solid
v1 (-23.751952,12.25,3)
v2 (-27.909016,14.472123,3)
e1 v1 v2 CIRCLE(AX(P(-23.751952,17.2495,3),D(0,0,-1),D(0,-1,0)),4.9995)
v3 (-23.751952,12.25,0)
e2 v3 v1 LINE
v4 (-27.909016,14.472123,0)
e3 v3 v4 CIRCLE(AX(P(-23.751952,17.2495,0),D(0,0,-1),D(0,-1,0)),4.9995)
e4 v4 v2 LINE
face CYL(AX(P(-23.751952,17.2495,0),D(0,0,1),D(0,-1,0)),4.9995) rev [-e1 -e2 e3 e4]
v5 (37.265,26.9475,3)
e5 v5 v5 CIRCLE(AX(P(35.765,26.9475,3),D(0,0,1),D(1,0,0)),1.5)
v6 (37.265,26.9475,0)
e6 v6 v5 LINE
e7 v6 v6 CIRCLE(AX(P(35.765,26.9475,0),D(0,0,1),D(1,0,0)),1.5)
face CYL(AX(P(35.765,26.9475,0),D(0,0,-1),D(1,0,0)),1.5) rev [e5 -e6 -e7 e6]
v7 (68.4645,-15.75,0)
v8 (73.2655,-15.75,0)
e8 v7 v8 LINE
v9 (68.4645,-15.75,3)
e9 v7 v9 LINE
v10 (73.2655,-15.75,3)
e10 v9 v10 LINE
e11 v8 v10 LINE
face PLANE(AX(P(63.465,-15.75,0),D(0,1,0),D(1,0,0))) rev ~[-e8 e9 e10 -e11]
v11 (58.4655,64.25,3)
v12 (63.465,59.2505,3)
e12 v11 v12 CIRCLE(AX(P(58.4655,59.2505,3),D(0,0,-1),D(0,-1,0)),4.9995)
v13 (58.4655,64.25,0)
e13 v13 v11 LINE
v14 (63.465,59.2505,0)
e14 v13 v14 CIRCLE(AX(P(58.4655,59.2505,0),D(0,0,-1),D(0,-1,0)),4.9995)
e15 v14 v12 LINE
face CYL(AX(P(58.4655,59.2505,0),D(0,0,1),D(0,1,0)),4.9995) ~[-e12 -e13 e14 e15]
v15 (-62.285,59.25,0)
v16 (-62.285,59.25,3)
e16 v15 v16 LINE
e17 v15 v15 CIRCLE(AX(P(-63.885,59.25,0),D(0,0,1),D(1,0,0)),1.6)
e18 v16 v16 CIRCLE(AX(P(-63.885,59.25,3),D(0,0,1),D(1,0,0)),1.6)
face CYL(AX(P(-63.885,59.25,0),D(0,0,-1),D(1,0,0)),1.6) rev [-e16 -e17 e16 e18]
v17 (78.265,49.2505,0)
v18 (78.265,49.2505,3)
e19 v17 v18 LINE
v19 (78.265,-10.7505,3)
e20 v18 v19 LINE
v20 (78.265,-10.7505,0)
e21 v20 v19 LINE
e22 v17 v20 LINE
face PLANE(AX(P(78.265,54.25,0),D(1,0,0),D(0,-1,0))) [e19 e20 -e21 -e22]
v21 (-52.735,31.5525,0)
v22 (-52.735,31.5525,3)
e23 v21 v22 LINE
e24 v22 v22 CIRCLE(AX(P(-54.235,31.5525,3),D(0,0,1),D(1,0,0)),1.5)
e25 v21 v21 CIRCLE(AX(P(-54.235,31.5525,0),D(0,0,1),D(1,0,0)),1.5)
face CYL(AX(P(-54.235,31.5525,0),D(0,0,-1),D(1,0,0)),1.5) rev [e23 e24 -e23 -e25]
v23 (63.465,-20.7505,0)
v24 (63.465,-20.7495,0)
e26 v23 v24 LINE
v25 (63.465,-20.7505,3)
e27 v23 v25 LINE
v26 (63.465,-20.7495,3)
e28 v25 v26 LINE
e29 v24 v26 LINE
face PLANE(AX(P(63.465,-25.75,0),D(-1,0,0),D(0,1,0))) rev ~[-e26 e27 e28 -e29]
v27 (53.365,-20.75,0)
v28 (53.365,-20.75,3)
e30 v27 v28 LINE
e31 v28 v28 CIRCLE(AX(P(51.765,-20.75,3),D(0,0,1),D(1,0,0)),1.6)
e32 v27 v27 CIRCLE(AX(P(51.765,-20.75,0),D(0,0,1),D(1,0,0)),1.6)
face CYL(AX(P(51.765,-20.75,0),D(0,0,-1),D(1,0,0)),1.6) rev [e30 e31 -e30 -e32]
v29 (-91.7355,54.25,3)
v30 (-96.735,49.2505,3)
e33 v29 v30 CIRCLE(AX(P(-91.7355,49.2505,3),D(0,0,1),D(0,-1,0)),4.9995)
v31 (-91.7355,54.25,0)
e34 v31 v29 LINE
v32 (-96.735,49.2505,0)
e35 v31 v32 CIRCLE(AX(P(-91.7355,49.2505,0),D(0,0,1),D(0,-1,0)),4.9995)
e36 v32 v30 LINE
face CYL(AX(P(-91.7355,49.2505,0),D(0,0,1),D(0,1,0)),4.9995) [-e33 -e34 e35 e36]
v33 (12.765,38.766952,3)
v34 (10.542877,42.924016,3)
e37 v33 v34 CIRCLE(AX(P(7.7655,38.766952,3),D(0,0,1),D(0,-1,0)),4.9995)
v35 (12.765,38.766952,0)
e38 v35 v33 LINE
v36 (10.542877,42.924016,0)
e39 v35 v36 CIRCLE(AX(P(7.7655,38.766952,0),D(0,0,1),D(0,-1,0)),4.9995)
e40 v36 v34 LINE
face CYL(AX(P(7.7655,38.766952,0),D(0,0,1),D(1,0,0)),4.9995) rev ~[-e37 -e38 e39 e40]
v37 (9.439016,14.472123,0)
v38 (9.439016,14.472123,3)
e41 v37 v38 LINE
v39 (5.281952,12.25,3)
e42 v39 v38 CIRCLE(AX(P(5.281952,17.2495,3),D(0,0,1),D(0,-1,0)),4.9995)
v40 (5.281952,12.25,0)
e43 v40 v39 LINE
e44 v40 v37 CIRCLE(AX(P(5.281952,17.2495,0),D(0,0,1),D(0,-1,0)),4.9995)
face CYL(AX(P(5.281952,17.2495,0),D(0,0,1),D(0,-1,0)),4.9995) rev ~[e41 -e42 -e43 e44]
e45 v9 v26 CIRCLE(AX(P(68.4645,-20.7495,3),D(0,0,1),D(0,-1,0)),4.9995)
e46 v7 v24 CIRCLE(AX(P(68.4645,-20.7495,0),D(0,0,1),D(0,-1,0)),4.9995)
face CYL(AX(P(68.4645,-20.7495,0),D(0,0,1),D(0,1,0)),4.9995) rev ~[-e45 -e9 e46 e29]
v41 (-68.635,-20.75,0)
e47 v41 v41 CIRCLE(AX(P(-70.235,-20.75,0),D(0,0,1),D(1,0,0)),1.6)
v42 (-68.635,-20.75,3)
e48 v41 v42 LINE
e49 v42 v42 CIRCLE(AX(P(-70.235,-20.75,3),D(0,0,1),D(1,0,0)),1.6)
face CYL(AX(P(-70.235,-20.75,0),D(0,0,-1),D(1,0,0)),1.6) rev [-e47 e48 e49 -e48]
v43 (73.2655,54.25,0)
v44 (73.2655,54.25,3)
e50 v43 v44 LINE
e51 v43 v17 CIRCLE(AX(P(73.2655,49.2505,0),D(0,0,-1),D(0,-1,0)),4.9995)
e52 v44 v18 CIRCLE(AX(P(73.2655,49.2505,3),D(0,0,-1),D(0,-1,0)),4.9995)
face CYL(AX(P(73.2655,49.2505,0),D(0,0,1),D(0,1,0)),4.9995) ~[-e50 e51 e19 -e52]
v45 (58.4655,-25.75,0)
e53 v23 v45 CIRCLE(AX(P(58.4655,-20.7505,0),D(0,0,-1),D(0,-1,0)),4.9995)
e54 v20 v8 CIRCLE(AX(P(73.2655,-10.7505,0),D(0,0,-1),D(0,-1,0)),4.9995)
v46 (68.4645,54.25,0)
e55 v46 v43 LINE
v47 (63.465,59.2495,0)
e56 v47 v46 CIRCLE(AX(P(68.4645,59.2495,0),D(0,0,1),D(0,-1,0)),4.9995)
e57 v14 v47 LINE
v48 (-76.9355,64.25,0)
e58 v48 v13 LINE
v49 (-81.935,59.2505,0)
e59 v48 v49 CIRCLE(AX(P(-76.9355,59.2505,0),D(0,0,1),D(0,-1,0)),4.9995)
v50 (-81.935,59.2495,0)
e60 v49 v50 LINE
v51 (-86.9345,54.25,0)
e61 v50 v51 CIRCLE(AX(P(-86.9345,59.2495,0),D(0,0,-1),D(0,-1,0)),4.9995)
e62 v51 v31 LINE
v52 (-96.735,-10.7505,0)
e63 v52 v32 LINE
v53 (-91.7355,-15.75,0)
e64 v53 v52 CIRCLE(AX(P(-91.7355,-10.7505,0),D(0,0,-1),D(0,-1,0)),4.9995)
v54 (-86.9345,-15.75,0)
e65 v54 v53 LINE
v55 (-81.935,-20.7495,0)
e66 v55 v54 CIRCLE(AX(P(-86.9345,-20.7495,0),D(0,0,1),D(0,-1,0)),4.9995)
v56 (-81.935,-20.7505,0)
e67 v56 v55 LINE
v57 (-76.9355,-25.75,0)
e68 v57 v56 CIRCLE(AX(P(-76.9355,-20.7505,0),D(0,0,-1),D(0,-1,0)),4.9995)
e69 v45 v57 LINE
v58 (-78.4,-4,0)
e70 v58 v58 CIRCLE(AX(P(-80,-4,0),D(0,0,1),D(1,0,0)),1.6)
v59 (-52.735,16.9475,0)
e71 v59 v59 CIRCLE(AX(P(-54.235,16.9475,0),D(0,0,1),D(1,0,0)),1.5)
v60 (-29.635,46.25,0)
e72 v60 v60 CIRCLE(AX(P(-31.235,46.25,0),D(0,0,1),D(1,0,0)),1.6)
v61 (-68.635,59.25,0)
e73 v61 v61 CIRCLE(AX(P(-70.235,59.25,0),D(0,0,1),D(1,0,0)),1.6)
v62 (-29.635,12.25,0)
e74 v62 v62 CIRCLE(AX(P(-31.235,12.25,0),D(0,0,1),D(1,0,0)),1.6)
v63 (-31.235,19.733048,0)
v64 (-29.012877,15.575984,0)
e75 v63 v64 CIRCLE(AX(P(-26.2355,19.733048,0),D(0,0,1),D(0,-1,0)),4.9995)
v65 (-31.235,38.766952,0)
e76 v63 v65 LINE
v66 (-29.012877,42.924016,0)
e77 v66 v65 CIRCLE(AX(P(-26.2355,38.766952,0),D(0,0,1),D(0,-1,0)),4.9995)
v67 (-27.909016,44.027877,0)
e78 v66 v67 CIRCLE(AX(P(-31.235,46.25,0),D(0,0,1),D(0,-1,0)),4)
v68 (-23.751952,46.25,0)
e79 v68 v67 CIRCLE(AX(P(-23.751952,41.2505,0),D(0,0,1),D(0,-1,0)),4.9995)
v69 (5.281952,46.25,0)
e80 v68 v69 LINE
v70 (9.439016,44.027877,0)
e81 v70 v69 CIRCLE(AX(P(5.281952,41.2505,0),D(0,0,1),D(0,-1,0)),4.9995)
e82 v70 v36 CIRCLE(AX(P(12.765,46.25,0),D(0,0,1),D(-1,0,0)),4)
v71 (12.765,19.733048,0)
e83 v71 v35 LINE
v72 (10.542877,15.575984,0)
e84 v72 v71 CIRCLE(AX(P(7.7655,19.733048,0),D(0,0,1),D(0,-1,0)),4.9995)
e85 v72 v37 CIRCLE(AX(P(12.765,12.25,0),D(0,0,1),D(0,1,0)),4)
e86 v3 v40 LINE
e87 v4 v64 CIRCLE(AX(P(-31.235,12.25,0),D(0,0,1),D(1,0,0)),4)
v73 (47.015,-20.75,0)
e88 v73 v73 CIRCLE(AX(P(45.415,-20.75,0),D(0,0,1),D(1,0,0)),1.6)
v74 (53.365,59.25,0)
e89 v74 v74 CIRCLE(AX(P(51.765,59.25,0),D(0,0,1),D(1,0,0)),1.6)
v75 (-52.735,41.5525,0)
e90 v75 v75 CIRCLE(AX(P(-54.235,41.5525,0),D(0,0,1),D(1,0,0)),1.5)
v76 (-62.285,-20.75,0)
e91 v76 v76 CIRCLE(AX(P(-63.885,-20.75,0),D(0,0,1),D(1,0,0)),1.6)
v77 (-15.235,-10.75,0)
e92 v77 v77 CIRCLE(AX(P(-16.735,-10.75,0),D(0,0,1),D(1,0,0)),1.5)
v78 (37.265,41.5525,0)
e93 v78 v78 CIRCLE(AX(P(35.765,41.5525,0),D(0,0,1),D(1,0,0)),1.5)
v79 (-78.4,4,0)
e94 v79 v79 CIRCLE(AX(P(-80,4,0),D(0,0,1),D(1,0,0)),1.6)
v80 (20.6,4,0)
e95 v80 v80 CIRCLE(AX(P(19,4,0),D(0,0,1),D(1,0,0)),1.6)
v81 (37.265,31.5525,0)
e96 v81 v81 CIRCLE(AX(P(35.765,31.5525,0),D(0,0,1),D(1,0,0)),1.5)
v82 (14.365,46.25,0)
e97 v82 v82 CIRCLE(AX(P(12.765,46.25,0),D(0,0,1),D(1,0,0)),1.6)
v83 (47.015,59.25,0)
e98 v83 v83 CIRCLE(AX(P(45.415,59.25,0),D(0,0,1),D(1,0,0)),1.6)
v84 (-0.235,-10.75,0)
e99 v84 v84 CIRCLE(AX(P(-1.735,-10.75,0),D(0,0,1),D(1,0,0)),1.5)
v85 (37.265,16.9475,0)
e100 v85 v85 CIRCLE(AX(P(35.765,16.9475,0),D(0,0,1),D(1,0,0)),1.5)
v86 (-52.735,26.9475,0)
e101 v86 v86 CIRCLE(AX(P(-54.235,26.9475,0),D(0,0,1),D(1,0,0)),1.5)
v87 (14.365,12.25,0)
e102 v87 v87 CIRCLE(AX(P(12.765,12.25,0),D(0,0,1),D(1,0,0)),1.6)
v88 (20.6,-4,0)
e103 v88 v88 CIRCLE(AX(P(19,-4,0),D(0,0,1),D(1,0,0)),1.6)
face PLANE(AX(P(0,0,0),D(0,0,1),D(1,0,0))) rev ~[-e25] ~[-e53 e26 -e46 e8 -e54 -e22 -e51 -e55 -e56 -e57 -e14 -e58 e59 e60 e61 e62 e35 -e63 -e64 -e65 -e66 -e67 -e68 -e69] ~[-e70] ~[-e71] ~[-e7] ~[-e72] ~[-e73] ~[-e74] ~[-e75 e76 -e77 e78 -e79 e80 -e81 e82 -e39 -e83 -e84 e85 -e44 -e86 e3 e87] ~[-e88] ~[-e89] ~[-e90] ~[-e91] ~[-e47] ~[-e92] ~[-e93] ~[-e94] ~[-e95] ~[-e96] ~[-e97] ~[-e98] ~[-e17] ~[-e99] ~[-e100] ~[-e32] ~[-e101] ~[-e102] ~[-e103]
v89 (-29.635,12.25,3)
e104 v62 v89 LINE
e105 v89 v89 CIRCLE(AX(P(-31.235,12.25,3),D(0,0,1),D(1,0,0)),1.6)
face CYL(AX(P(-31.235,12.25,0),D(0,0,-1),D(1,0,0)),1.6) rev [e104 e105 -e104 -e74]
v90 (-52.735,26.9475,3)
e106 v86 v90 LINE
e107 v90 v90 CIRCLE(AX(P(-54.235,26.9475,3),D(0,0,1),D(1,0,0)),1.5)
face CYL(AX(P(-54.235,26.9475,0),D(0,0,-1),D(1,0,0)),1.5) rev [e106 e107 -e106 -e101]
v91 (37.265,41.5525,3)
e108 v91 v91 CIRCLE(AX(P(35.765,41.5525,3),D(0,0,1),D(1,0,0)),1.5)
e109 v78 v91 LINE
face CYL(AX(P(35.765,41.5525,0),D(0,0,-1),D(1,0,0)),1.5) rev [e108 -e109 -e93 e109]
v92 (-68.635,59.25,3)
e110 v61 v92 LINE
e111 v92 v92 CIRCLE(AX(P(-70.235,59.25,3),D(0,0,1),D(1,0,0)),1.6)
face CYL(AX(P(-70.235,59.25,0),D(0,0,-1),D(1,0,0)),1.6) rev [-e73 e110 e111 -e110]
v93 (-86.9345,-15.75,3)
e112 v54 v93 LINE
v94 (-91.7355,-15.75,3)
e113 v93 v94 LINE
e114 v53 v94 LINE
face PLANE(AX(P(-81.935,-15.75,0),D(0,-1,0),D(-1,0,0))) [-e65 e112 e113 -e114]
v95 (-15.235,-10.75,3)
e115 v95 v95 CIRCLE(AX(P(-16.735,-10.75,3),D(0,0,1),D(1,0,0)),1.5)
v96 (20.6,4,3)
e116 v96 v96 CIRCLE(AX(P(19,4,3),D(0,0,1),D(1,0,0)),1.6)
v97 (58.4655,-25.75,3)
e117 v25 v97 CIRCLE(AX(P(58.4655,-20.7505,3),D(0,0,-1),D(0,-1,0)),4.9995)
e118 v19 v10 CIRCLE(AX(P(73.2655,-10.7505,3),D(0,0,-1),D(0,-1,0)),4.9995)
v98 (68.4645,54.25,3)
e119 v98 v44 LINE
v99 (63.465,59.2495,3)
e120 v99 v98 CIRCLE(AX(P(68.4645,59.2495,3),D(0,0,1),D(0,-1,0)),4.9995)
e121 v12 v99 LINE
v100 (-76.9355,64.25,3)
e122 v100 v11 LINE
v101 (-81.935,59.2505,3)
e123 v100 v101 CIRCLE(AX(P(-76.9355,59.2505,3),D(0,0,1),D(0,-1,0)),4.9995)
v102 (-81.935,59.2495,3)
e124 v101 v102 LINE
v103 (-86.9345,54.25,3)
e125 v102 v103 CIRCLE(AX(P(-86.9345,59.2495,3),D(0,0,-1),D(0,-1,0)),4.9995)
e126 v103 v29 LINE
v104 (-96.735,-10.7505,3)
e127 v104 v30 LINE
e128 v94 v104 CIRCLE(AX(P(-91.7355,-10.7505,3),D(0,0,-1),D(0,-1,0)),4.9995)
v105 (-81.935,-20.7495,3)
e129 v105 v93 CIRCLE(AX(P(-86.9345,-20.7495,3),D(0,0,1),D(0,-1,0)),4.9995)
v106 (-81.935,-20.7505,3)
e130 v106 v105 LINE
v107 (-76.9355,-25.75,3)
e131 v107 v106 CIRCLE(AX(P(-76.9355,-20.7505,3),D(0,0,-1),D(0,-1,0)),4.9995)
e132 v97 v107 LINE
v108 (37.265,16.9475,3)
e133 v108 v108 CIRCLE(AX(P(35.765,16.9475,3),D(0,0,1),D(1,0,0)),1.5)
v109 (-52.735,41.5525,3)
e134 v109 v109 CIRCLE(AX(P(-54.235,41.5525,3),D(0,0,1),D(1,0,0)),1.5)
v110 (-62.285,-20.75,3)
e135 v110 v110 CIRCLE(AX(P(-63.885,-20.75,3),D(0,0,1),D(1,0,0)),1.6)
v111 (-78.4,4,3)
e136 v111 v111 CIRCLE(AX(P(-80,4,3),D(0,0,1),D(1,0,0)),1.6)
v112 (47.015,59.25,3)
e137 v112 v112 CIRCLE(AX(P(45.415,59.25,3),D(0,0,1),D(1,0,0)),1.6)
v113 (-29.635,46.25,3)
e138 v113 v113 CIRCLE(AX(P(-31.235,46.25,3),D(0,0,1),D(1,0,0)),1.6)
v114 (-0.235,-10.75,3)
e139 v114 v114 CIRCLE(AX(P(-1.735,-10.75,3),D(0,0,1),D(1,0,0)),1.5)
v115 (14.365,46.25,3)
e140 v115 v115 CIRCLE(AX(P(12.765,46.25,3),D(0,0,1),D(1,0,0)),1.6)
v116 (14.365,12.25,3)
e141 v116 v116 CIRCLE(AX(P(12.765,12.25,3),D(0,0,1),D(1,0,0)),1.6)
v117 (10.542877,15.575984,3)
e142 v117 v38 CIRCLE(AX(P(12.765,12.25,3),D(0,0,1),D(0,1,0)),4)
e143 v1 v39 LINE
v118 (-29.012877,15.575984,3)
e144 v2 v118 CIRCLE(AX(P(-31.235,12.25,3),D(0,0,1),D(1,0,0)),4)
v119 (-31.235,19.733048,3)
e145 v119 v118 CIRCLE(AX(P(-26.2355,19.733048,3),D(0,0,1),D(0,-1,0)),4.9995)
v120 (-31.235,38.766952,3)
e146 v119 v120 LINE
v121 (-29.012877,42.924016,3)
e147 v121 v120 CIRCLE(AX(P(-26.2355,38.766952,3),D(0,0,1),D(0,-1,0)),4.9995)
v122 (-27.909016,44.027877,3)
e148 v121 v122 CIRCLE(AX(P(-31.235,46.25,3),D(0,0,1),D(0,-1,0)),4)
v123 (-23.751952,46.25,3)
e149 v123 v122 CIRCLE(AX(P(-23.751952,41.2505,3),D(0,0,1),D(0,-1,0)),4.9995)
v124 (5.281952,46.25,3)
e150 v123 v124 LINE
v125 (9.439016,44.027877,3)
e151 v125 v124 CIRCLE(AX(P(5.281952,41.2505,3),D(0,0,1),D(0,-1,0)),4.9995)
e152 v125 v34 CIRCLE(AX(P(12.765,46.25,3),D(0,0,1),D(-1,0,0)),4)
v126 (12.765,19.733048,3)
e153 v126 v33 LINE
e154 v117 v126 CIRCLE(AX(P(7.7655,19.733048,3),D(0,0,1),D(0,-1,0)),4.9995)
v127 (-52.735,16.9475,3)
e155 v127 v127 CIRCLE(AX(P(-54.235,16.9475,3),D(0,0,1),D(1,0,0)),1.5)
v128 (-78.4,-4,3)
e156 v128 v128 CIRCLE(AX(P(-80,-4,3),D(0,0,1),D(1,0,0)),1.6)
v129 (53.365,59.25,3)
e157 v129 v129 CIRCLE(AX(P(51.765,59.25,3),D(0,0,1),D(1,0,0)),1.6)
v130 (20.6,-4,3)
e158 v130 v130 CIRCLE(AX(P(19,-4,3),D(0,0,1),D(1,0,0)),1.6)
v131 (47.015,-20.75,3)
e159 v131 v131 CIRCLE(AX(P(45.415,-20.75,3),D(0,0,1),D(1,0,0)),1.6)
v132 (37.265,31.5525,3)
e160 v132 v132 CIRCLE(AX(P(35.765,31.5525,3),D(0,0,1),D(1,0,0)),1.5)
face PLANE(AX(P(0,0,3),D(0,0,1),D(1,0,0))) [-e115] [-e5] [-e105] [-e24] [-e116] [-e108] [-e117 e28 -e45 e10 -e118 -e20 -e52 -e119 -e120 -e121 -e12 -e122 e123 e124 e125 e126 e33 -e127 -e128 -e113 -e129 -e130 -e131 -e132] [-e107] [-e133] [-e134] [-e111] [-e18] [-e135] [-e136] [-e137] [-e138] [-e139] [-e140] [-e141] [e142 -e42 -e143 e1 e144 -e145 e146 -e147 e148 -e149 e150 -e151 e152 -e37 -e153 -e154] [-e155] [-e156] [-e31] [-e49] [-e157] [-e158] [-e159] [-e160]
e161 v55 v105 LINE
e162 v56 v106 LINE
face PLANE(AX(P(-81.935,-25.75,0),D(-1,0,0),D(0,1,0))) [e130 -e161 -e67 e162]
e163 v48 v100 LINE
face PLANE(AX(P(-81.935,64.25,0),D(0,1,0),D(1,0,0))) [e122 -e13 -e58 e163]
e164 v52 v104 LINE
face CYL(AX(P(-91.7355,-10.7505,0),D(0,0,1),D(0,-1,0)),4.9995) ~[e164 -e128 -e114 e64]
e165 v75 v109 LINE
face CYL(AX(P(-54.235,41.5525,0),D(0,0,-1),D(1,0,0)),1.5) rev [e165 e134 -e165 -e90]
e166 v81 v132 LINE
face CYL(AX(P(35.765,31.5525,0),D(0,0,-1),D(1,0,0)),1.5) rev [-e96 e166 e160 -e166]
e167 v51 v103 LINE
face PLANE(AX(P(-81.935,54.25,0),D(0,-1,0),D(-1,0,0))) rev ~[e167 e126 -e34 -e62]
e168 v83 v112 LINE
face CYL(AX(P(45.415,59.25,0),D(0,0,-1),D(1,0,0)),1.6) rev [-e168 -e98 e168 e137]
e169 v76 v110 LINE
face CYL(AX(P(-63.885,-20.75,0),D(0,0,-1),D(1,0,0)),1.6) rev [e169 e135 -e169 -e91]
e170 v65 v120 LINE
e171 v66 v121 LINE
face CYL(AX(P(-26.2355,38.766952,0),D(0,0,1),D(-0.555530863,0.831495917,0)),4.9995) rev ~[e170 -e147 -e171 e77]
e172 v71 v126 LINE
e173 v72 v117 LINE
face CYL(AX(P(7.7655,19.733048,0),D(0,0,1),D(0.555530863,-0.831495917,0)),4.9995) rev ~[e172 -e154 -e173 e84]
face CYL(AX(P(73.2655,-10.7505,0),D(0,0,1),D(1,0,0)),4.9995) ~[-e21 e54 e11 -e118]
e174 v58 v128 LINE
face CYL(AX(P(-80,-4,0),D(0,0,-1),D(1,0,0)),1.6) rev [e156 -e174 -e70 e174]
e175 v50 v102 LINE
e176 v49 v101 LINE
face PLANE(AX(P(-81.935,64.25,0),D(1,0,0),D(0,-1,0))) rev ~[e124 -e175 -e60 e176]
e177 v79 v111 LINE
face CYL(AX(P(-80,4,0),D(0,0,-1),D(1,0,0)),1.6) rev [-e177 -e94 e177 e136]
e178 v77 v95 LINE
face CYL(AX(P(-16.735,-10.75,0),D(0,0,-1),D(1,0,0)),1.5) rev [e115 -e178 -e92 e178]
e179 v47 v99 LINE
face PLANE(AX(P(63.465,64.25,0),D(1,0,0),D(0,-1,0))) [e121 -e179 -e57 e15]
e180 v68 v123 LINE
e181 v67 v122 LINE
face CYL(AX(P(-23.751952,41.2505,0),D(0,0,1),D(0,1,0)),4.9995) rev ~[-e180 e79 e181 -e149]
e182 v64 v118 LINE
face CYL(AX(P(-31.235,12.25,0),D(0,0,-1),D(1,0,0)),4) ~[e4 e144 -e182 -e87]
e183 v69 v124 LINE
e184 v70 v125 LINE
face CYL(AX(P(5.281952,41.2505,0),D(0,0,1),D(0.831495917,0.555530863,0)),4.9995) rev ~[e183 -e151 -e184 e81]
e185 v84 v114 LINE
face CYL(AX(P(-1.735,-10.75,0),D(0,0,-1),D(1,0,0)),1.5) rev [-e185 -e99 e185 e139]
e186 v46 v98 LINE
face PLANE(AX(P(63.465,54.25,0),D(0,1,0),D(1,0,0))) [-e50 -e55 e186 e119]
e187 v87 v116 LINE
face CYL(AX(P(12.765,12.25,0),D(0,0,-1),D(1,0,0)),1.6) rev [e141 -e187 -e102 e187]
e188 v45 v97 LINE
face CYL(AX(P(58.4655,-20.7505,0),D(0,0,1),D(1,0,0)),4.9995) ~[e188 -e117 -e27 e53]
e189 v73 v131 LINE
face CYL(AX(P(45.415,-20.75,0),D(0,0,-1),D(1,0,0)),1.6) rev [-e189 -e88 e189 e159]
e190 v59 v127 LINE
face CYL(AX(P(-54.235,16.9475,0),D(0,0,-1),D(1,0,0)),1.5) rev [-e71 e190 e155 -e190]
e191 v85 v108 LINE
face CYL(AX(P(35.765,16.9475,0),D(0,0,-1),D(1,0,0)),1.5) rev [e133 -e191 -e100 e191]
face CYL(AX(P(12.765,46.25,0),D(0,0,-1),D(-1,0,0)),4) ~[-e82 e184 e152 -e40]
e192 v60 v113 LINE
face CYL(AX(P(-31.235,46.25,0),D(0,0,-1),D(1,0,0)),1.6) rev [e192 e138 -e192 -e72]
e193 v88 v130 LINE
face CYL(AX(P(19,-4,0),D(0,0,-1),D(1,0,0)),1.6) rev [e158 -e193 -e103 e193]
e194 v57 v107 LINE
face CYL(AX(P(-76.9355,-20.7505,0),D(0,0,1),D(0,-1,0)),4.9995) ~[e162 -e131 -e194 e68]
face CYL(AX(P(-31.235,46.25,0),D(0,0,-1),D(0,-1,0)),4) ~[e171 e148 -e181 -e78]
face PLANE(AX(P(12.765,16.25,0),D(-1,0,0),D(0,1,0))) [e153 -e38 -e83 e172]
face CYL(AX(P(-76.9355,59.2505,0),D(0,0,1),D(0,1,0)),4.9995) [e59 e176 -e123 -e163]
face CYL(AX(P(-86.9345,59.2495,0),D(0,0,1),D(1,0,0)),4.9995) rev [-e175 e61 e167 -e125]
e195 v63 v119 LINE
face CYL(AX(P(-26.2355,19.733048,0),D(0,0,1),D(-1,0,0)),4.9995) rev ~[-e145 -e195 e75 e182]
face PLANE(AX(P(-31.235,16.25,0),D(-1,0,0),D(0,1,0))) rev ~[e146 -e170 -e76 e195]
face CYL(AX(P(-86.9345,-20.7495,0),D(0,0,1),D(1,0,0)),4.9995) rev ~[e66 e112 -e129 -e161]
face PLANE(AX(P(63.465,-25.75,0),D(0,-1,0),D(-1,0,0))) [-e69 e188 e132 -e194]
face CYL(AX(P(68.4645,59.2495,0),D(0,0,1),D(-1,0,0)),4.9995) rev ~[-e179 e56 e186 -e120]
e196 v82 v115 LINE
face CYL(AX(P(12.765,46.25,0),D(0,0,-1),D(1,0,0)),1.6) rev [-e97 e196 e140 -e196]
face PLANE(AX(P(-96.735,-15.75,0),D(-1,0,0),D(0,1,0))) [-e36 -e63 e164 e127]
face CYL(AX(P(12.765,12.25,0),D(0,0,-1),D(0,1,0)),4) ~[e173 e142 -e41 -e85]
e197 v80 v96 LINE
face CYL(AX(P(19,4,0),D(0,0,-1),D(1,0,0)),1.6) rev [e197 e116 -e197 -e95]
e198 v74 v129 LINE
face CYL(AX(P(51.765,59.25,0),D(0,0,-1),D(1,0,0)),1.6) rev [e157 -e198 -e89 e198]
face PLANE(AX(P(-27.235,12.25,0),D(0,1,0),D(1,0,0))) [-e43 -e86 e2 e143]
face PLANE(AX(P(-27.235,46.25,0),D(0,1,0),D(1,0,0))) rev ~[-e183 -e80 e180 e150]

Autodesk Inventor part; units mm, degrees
ref_plane "YZ Plane" through (0, 0, 0) normal (1, 0, 0) x (0, 1, 0)
ref_plane "XZ Plane" through (0, 0, 0) normal (0, 1, 0) x (-1, 0, 0)
ref_plane "XY Plane" through (0, 0, 0) normal (0, 0, 1) x (1, 0, 0)
sketch "スケッチ1" plane through (0, 0, 0) normal (0, 0, 1) x (1, 0, 0)
  line L0 (-96.735, 64.25) -> (78.265, 64.25)
  line L1 (78.265, 64.25) -> (78.265, -25.75)
  line L2 (78.265, -25.75) -> (-96.735, -25.75)
  line L3 (-96.735, -25.75) -> (-96.735, 64.25)
  line L4 (-96.735, 64.25) -> (78.265, -25.75) construction
  line L5 (78.265, 64.25) -> (-96.735, -25.75) construction
  line L6 (-96.735, 19.25) -> (78.265, 19.25) construction
  line L7 (-96.735, 0) -> (78.265, 0) construction
  line L8 (-80, 4) -> (-80, -4) construction
  circle A0 centre (-80, -4) radius 1.6
  line L9 (0, 64.25) -> (0, -25.75) construction
  line L10 (19, -4) -> (19, 4) construction
  circle A1 centre (19, -4) radius 1.6
  circle A2 centre (-80, 4) radius 1.6
  circle A3 centre (19, 4) radius 1.6
  line L11 (16, 12.5) -> (22, 12.5) construction
  line L12 (22, 12.5) -> (22, -12.5) construction
  line L13 (22, -12.5) -> (16, -12.5) construction
  line L14 (16, -12.5) -> (16, 12.5) construction
  line L15 (16, 12.5) -> (22, -12.5) construction
  line L16 (22, 12.5) -> (16, -12.5) construction
  line L17 (-83, 12.5) -> (-77, 12.5) construction
  line L18 (-77, 12.5) -> (-77, -12.5) construction
  line L19 (-77, -12.5) -> (-83, -12.5) construction
  line L20 (-83, -12.5) -> (-83, 12.5) construction
  line L21 (-83, 12.5) -> (-77, -12.5) construction
  line L22 (-77, 12.5) -> (-83, -12.5) construction
  line L23 (-67, 49.25) -> (6, 49.25) construction
  line L24 (6, 49.25) -> (6, -10.75) construction
  line L25 (6, -10.75) -> (-67, -10.75) construction
  line L26 (-67, -10.75) -> (-67, 49.25) construction
  line L27 (-67, 49.25) -> (6, -10.75) construction
  line L28 (6, 49.25) -> (-67, -10.75) construction
  line L29 (-83, -4.5) -> (-83, 20.5) construction
  line L30 (-83, 20.5) -> (-77, 20.5) construction
  line L31 (-77, 20.5) -> (-77, -4.5) construction
  line L32 (-77, -4.5) -> (-83, -4.5) construction
  circle A4 centre (-80, 12) radius 1.6
  circle A5 centre (-80, 4) radius 1.6
  line L33 (16, 20.5) -> (22, 20.5) construction
  line L34 (16, -4.5) -> (16, 20.5) construction
  line L35 (22, -4.5) -> (16, -4.5) construction
  line L36 (22, 20.5) -> (22, -4.5) construction
  circle A6 centre (19, 4) radius 1.6
  circle A7 centre (19, 12) radius 1.6
  line L37 (-83, 3.5) -> (-83, 28.5) construction
  line L38 (-83, 28.5) -> (-77, 28.5) construction
  line L39 (-77, 28.5) -> (-77, 3.5) construction
  line L40 (-77, 3.5) -> (-83, 3.5) construction
  circle A8 centre (-80, 20) radius 1.6
  circle A9 centre (-80, 12) radius 1.6
  line L41 (16, 28.5) -> (22, 28.5) construction
  line L42 (16, 3.5) -> (16, 28.5) construction
  line L43 (22, 3.5) -> (16, 3.5) construction
  line L44 (22, 28.5) -> (22, 3.5) construction
  circle A10 centre (19, 12) radius 1.6
  circle A11 centre (19, 20) radius 1.6
  circle A12 centre (-80, -12) radius 1.6
  line L45 (-77, -20.5) -> (-83, -20.5) construction
  line L46 (-83, -20.5) -> (-83, 4.5) construction
  line L47 (-77, 4.5) -> (-77, -20.5) construction
  line L48 (16, -20.5) -> (16, 4.5) construction
  circle A13 centre (19, -12) radius 1.6
  line L49 (22, -20.5) -> (16, -20.5) construction
  line L50 (22, 4.5) -> (22, -20.5) construction
  line L51 (45.415, -24.7) -> (77.215, -24.7) construction
  line L52 (77.215, -16.8) -> (45.415, -16.8) construction
  line L53 (45.415, -16.8) -> (45.415, -24.7) construction
  line L54 (45.415, -24.7) -> (77.215, -16.8) construction
  line L55 (77.215, -24.7) -> (45.415, -16.8) construction
  line L56 (77.215, -20.75) -> (45.415, -20.75) construction
  line L57 (61.315, -24.7) -> (61.315, -16.8) construction
  circle A14 centre (45.415, -20.75) radius 1.6
  circle A15 centre (51.765, -20.75) radius 1.6
  line L58 (73.615, -19.1623) -> (73.615, -22.3377) construction
  line L59 (73.615, -22.3377) -> (70.865, -23.9254) construction
  line L60 (70.865, -23.9254) -> (68.115, -22.3377) construction
  line L61 (68.115, -22.3377) -> (68.115, -19.1623) construction
  line L62 (68.115, -19.1623) -> (70.865, -17.5746) construction
  line L63 (70.865, -17.5746) -> (73.615, -19.1623) construction
  line L64 (-9.235, 64.25) -> (-9.235, -25.75) construction
  circle A16 centre (45.415, 59.25) radius 1.6
  circle A17 centre (51.765, 59.25) radius 1.6
  line L65 (73.615, 57.6623) -> (73.615, 60.8377) construction
  line L66 (73.615, 60.8377) -> (70.865, 62.4254) construction
  line L67 (70.865, 62.4254) -> (68.115, 60.8377) construction
  line L68 (68.115, 60.8377) -> (68.115, 57.6623) construction
  line L69 (68.115, 57.6623) -> (70.865, 56.0746) construction
  line L70 (70.865, 56.0746) -> (73.615, 57.6623) construction
  circle A18 centre (-63.885, -20.75) radius 1.6
  circle A19 centre (-70.235, -20.75) radius 1.6
  line L71 (-92.085, -19.1623) -> (-92.085, -22.3377) construction
  line L72 (-92.085, -22.3377) -> (-89.335, -23.9254) construction
  line L73 (-89.335, -23.9254) -> (-86.585, -22.3377) construction
  line L74 (-86.585, -22.3377) -> (-86.585, -19.1623) construction
  line L75 (-86.585, -19.1623) -> (-89.335, -17.5746) construction
  line L76 (-89.335, -17.5746) -> (-92.085, -19.1623) construction
  circle A20 centre (-63.885, 59.25) radius 1.6
  circle A21 centre (-70.235, 59.25) radius 1.6
  line L77 (-86.585, 57.6623) -> (-89.335, 56.0746) construction
  line L78 (-86.585, 60.8377) -> (-86.585, 57.6623) construction
  line L79 (-89.335, 62.4254) -> (-86.585, 60.8377) construction
  line L80 (-92.085, 60.8377) -> (-89.335, 62.4254) construction
  line L81 (-92.085, 57.6623) -> (-92.085, 60.8377) construction
  line L82 (-89.335, 56.0746) -> (-92.085, 57.6623) construction
  line L83 (-34.235, 49.25) -> (15.765, 49.25) construction
  line L84 (15.765, 49.25) -> (15.765, 9.25) construction
  line L85 (15.765, 9.25) -> (-34.235, 9.25) construction
  line L86 (-34.235, 9.25) -> (-34.235, 49.25) construction
  line L87 (-34.235, 49.25) -> (15.765, 9.25) construction
  line L88 (15.765, 49.25) -> (-34.235, 9.25) construction
  line L89 (-31.235, 46.25) -> (12.765, 46.25) construction
  line L90 (12.765, 46.25) -> (12.765, 12.25) construction
  line L91 (12.765, 12.25) -> (-31.235, 12.25) construction
  line L92 (-31.235, 12.25) -> (-31.235, 46.25) construction
  line L93 (-31.235, 46.25) -> (12.765, 12.25) construction
  line L94 (12.765, 46.25) -> (-31.235, 12.25) construction
  circle A22 centre (-31.235, 12.25) radius 1.6
  circle A23 centre (-31.235, 46.25) radius 1.6
  circle A24 centre (12.765, 46.25) radius 1.6
  circle A25 centre (12.765, 12.25) radius 1.6
  line L95 (-62, -21.85) -> (-61.735, -21.85)
  line L96 (77.215, -16.8) -> (77.215, -24.7) construction
  line L97 (63.465, -25.75) -> (63.465, -15.75)
  line L98 (63.465, -15.75) -> (78.265, -15.75)
  line L99 (70.865, -23.9254) -> (70.865, -17.5746) construction
  line L100 (63.465, 64.25) -> (63.465, 54.25)
  line L101 (63.465, 54.25) -> (78.265, 54.25)
  line L102 (-81.935, -25.75) -> (-81.935, -15.75)
  line L103 (-81.935, -15.75) -> (-96.735, -15.75)
  line L104 (-81.935, 54.25) -> (-96.735, 54.25)
  line L105 (-81.935, 64.25) -> (-81.935, 54.25)
  line L106 (-9.235, 49.25) -> (-9.235, 9.25) construction
  circle A26 centre (35.765, 31.5525) radius 1.5
  circle A27 centre (35.765, 41.5525) radius 1.5
  line L107 (35.765, 31.5525) -> (35.765, 41.5525) construction
  line L108 (-34.235, 29.25) -> (15.765, 29.25) construction
  circle A28 centre (35.765, 26.9475) radius 1.5
  circle A29 centre (35.765, 16.9475) radius 1.5
  circle A30 centre (-54.235, 31.5525) radius 1.5
  circle A31 centre (-54.235, 41.5525) radius 1.5
  circle A32 centre (-54.235, 26.9475) radius 1.5
  circle A33 centre (-54.235, 16.9475) radius 1.5
  circle A34 centre (-16.735, -10.75) radius 1.5
  circle A35 centre (-1.735, -10.75) radius 1.5
  line L109 (-1.735, -10.75) -> (-16.735, -10.75) construction
  arc A36 (-27.235, 12.25) -> (-31.235, 16.25) centre (-31.235, 12.25) ccw
  line L110 (-31.235, 16.25) -> (-31.235, 42.25)
  line L111 (-27.235, 12.25) -> (8.765, 12.25)
  arc A37 (12.765, 16.25) -> (8.765, 12.25) centre (12.765, 12.25) ccw
  line L112 (12.765, 16.25) -> (12.765, 42.25)
  arc A38 (-31.235, 42.25) -> (-27.235, 46.25) centre (-31.235, 46.25) ccw
  line L113 (-27.235, 46.25) -> (8.765, 46.25)
  arc A39 (8.765, 46.25) -> (12.765, 42.25) centre (12.765, 46.25) ccw
  point P0 (0, 0)
  point P1 (-9.235, 19.25)
  point P2 (-80, 0)
  point P3 (19, 0)
  point P4 (-30.5, 19.25)
  point P5 (61.315, -20.75)
  point P6 (70.865, -20.75)
  point P7 (-9.235, 29.25)
  point P8 (-9.235, 29.25)
  point P9 (-9.235, 29.25)
  point P10 (35.765, 36.5525)
  point P11 (-9.235, -10.75)
  dimension "d0" = 175
  dimension "d1" = 90
  dimension "d2" = 25.75
  dimension "d3" = 3.2
  dimension "d4" = 8
  dimension "d5" = 8
  dimension "d6" = 3.2
  dimension "d16" = 78.265
  dimension "d17" = 6
  dimension "d18" = 25
  dimension "d19" = 22
  dimension "d20" = 6
  dimension "d21" = 25
  dimension "d22" = 105
  dimension "d23" = 15
  dimension "d24" = 15
  dimension "d25" = 10
  dimension "d26" = 10
  dimension "d57" = 8
  dimension "d64" = 8
  dimension "d69" = 31.8
  dimension "d70" = 7.9
  dimension "d72" = 3.2
  dimension "d75" = 5.5
  dimension "d79" = 50
  dimension "d80" = 40
  dimension "d81" = 44
  dimension "d82" = 34
  dimension "d83" = 3.2
  dimension "d88" = 10
  dimension "d89" = 87.5
  dimension "d102" = 19.1
  dimension "d103" = 5
  dimension "d104" = 1.05
  dimension "d105" = 7.4
  dimension "d106" = 1.05
  dimension "d107" = 3
  dimension "d109" = 20
  dimension "d110" = 10
  dimension "d111" = 7.3025
  dimension "d112" = 42.765
  dimension "d113" = 10
  dimension "d114" = 15
  dimension "d115" = 20
  dimension "d116" = 4
extrude "押し出し1" add sketch "スケッチ1" along normal blind 3 contours L0 L100 L101 L1 L98 L97 L2 L102 L103 L3 L104 L105 | A4 | A7 | A8 | A11 | A12 | A13
fillet "フィレット1" radius 5 20 edges at (-81.935, -25.75, 1.5) (-81.935, -15.75, 1.5) (-96.735, -15.75, 1.5) (-96.735, 54.25, 1.5) (-81.935, 54.25, 1.5) (-81.935, 64.25, 1.5) (63.465, 64.25, 1.5) (63.465, 54.25, 1.5) (78.265, 54.25, 1.5) (78.265, -15.75, 1.5) (63.465, -25.75, 1.5) (63.465, -15.75, 1.5) (-27.235, 12.25, 1.5) (-31.235, 16.25, 1.5) (-31.235, 42.25, 1.5) (-27.235, 46.25, 1.5) (8.765, 46.25, 1.5) (12.765, 42.25, 1.5) (12.765, 16.25, 1.5) (8.765, 12.25, 1.5)
equation "\"d3\" = d6"
equation "\"d4\" = d5"
equation "\"d20\" = d17"
equation "\"d21\" = d18"
properties part number "Sole_frame" material "GFRP"
